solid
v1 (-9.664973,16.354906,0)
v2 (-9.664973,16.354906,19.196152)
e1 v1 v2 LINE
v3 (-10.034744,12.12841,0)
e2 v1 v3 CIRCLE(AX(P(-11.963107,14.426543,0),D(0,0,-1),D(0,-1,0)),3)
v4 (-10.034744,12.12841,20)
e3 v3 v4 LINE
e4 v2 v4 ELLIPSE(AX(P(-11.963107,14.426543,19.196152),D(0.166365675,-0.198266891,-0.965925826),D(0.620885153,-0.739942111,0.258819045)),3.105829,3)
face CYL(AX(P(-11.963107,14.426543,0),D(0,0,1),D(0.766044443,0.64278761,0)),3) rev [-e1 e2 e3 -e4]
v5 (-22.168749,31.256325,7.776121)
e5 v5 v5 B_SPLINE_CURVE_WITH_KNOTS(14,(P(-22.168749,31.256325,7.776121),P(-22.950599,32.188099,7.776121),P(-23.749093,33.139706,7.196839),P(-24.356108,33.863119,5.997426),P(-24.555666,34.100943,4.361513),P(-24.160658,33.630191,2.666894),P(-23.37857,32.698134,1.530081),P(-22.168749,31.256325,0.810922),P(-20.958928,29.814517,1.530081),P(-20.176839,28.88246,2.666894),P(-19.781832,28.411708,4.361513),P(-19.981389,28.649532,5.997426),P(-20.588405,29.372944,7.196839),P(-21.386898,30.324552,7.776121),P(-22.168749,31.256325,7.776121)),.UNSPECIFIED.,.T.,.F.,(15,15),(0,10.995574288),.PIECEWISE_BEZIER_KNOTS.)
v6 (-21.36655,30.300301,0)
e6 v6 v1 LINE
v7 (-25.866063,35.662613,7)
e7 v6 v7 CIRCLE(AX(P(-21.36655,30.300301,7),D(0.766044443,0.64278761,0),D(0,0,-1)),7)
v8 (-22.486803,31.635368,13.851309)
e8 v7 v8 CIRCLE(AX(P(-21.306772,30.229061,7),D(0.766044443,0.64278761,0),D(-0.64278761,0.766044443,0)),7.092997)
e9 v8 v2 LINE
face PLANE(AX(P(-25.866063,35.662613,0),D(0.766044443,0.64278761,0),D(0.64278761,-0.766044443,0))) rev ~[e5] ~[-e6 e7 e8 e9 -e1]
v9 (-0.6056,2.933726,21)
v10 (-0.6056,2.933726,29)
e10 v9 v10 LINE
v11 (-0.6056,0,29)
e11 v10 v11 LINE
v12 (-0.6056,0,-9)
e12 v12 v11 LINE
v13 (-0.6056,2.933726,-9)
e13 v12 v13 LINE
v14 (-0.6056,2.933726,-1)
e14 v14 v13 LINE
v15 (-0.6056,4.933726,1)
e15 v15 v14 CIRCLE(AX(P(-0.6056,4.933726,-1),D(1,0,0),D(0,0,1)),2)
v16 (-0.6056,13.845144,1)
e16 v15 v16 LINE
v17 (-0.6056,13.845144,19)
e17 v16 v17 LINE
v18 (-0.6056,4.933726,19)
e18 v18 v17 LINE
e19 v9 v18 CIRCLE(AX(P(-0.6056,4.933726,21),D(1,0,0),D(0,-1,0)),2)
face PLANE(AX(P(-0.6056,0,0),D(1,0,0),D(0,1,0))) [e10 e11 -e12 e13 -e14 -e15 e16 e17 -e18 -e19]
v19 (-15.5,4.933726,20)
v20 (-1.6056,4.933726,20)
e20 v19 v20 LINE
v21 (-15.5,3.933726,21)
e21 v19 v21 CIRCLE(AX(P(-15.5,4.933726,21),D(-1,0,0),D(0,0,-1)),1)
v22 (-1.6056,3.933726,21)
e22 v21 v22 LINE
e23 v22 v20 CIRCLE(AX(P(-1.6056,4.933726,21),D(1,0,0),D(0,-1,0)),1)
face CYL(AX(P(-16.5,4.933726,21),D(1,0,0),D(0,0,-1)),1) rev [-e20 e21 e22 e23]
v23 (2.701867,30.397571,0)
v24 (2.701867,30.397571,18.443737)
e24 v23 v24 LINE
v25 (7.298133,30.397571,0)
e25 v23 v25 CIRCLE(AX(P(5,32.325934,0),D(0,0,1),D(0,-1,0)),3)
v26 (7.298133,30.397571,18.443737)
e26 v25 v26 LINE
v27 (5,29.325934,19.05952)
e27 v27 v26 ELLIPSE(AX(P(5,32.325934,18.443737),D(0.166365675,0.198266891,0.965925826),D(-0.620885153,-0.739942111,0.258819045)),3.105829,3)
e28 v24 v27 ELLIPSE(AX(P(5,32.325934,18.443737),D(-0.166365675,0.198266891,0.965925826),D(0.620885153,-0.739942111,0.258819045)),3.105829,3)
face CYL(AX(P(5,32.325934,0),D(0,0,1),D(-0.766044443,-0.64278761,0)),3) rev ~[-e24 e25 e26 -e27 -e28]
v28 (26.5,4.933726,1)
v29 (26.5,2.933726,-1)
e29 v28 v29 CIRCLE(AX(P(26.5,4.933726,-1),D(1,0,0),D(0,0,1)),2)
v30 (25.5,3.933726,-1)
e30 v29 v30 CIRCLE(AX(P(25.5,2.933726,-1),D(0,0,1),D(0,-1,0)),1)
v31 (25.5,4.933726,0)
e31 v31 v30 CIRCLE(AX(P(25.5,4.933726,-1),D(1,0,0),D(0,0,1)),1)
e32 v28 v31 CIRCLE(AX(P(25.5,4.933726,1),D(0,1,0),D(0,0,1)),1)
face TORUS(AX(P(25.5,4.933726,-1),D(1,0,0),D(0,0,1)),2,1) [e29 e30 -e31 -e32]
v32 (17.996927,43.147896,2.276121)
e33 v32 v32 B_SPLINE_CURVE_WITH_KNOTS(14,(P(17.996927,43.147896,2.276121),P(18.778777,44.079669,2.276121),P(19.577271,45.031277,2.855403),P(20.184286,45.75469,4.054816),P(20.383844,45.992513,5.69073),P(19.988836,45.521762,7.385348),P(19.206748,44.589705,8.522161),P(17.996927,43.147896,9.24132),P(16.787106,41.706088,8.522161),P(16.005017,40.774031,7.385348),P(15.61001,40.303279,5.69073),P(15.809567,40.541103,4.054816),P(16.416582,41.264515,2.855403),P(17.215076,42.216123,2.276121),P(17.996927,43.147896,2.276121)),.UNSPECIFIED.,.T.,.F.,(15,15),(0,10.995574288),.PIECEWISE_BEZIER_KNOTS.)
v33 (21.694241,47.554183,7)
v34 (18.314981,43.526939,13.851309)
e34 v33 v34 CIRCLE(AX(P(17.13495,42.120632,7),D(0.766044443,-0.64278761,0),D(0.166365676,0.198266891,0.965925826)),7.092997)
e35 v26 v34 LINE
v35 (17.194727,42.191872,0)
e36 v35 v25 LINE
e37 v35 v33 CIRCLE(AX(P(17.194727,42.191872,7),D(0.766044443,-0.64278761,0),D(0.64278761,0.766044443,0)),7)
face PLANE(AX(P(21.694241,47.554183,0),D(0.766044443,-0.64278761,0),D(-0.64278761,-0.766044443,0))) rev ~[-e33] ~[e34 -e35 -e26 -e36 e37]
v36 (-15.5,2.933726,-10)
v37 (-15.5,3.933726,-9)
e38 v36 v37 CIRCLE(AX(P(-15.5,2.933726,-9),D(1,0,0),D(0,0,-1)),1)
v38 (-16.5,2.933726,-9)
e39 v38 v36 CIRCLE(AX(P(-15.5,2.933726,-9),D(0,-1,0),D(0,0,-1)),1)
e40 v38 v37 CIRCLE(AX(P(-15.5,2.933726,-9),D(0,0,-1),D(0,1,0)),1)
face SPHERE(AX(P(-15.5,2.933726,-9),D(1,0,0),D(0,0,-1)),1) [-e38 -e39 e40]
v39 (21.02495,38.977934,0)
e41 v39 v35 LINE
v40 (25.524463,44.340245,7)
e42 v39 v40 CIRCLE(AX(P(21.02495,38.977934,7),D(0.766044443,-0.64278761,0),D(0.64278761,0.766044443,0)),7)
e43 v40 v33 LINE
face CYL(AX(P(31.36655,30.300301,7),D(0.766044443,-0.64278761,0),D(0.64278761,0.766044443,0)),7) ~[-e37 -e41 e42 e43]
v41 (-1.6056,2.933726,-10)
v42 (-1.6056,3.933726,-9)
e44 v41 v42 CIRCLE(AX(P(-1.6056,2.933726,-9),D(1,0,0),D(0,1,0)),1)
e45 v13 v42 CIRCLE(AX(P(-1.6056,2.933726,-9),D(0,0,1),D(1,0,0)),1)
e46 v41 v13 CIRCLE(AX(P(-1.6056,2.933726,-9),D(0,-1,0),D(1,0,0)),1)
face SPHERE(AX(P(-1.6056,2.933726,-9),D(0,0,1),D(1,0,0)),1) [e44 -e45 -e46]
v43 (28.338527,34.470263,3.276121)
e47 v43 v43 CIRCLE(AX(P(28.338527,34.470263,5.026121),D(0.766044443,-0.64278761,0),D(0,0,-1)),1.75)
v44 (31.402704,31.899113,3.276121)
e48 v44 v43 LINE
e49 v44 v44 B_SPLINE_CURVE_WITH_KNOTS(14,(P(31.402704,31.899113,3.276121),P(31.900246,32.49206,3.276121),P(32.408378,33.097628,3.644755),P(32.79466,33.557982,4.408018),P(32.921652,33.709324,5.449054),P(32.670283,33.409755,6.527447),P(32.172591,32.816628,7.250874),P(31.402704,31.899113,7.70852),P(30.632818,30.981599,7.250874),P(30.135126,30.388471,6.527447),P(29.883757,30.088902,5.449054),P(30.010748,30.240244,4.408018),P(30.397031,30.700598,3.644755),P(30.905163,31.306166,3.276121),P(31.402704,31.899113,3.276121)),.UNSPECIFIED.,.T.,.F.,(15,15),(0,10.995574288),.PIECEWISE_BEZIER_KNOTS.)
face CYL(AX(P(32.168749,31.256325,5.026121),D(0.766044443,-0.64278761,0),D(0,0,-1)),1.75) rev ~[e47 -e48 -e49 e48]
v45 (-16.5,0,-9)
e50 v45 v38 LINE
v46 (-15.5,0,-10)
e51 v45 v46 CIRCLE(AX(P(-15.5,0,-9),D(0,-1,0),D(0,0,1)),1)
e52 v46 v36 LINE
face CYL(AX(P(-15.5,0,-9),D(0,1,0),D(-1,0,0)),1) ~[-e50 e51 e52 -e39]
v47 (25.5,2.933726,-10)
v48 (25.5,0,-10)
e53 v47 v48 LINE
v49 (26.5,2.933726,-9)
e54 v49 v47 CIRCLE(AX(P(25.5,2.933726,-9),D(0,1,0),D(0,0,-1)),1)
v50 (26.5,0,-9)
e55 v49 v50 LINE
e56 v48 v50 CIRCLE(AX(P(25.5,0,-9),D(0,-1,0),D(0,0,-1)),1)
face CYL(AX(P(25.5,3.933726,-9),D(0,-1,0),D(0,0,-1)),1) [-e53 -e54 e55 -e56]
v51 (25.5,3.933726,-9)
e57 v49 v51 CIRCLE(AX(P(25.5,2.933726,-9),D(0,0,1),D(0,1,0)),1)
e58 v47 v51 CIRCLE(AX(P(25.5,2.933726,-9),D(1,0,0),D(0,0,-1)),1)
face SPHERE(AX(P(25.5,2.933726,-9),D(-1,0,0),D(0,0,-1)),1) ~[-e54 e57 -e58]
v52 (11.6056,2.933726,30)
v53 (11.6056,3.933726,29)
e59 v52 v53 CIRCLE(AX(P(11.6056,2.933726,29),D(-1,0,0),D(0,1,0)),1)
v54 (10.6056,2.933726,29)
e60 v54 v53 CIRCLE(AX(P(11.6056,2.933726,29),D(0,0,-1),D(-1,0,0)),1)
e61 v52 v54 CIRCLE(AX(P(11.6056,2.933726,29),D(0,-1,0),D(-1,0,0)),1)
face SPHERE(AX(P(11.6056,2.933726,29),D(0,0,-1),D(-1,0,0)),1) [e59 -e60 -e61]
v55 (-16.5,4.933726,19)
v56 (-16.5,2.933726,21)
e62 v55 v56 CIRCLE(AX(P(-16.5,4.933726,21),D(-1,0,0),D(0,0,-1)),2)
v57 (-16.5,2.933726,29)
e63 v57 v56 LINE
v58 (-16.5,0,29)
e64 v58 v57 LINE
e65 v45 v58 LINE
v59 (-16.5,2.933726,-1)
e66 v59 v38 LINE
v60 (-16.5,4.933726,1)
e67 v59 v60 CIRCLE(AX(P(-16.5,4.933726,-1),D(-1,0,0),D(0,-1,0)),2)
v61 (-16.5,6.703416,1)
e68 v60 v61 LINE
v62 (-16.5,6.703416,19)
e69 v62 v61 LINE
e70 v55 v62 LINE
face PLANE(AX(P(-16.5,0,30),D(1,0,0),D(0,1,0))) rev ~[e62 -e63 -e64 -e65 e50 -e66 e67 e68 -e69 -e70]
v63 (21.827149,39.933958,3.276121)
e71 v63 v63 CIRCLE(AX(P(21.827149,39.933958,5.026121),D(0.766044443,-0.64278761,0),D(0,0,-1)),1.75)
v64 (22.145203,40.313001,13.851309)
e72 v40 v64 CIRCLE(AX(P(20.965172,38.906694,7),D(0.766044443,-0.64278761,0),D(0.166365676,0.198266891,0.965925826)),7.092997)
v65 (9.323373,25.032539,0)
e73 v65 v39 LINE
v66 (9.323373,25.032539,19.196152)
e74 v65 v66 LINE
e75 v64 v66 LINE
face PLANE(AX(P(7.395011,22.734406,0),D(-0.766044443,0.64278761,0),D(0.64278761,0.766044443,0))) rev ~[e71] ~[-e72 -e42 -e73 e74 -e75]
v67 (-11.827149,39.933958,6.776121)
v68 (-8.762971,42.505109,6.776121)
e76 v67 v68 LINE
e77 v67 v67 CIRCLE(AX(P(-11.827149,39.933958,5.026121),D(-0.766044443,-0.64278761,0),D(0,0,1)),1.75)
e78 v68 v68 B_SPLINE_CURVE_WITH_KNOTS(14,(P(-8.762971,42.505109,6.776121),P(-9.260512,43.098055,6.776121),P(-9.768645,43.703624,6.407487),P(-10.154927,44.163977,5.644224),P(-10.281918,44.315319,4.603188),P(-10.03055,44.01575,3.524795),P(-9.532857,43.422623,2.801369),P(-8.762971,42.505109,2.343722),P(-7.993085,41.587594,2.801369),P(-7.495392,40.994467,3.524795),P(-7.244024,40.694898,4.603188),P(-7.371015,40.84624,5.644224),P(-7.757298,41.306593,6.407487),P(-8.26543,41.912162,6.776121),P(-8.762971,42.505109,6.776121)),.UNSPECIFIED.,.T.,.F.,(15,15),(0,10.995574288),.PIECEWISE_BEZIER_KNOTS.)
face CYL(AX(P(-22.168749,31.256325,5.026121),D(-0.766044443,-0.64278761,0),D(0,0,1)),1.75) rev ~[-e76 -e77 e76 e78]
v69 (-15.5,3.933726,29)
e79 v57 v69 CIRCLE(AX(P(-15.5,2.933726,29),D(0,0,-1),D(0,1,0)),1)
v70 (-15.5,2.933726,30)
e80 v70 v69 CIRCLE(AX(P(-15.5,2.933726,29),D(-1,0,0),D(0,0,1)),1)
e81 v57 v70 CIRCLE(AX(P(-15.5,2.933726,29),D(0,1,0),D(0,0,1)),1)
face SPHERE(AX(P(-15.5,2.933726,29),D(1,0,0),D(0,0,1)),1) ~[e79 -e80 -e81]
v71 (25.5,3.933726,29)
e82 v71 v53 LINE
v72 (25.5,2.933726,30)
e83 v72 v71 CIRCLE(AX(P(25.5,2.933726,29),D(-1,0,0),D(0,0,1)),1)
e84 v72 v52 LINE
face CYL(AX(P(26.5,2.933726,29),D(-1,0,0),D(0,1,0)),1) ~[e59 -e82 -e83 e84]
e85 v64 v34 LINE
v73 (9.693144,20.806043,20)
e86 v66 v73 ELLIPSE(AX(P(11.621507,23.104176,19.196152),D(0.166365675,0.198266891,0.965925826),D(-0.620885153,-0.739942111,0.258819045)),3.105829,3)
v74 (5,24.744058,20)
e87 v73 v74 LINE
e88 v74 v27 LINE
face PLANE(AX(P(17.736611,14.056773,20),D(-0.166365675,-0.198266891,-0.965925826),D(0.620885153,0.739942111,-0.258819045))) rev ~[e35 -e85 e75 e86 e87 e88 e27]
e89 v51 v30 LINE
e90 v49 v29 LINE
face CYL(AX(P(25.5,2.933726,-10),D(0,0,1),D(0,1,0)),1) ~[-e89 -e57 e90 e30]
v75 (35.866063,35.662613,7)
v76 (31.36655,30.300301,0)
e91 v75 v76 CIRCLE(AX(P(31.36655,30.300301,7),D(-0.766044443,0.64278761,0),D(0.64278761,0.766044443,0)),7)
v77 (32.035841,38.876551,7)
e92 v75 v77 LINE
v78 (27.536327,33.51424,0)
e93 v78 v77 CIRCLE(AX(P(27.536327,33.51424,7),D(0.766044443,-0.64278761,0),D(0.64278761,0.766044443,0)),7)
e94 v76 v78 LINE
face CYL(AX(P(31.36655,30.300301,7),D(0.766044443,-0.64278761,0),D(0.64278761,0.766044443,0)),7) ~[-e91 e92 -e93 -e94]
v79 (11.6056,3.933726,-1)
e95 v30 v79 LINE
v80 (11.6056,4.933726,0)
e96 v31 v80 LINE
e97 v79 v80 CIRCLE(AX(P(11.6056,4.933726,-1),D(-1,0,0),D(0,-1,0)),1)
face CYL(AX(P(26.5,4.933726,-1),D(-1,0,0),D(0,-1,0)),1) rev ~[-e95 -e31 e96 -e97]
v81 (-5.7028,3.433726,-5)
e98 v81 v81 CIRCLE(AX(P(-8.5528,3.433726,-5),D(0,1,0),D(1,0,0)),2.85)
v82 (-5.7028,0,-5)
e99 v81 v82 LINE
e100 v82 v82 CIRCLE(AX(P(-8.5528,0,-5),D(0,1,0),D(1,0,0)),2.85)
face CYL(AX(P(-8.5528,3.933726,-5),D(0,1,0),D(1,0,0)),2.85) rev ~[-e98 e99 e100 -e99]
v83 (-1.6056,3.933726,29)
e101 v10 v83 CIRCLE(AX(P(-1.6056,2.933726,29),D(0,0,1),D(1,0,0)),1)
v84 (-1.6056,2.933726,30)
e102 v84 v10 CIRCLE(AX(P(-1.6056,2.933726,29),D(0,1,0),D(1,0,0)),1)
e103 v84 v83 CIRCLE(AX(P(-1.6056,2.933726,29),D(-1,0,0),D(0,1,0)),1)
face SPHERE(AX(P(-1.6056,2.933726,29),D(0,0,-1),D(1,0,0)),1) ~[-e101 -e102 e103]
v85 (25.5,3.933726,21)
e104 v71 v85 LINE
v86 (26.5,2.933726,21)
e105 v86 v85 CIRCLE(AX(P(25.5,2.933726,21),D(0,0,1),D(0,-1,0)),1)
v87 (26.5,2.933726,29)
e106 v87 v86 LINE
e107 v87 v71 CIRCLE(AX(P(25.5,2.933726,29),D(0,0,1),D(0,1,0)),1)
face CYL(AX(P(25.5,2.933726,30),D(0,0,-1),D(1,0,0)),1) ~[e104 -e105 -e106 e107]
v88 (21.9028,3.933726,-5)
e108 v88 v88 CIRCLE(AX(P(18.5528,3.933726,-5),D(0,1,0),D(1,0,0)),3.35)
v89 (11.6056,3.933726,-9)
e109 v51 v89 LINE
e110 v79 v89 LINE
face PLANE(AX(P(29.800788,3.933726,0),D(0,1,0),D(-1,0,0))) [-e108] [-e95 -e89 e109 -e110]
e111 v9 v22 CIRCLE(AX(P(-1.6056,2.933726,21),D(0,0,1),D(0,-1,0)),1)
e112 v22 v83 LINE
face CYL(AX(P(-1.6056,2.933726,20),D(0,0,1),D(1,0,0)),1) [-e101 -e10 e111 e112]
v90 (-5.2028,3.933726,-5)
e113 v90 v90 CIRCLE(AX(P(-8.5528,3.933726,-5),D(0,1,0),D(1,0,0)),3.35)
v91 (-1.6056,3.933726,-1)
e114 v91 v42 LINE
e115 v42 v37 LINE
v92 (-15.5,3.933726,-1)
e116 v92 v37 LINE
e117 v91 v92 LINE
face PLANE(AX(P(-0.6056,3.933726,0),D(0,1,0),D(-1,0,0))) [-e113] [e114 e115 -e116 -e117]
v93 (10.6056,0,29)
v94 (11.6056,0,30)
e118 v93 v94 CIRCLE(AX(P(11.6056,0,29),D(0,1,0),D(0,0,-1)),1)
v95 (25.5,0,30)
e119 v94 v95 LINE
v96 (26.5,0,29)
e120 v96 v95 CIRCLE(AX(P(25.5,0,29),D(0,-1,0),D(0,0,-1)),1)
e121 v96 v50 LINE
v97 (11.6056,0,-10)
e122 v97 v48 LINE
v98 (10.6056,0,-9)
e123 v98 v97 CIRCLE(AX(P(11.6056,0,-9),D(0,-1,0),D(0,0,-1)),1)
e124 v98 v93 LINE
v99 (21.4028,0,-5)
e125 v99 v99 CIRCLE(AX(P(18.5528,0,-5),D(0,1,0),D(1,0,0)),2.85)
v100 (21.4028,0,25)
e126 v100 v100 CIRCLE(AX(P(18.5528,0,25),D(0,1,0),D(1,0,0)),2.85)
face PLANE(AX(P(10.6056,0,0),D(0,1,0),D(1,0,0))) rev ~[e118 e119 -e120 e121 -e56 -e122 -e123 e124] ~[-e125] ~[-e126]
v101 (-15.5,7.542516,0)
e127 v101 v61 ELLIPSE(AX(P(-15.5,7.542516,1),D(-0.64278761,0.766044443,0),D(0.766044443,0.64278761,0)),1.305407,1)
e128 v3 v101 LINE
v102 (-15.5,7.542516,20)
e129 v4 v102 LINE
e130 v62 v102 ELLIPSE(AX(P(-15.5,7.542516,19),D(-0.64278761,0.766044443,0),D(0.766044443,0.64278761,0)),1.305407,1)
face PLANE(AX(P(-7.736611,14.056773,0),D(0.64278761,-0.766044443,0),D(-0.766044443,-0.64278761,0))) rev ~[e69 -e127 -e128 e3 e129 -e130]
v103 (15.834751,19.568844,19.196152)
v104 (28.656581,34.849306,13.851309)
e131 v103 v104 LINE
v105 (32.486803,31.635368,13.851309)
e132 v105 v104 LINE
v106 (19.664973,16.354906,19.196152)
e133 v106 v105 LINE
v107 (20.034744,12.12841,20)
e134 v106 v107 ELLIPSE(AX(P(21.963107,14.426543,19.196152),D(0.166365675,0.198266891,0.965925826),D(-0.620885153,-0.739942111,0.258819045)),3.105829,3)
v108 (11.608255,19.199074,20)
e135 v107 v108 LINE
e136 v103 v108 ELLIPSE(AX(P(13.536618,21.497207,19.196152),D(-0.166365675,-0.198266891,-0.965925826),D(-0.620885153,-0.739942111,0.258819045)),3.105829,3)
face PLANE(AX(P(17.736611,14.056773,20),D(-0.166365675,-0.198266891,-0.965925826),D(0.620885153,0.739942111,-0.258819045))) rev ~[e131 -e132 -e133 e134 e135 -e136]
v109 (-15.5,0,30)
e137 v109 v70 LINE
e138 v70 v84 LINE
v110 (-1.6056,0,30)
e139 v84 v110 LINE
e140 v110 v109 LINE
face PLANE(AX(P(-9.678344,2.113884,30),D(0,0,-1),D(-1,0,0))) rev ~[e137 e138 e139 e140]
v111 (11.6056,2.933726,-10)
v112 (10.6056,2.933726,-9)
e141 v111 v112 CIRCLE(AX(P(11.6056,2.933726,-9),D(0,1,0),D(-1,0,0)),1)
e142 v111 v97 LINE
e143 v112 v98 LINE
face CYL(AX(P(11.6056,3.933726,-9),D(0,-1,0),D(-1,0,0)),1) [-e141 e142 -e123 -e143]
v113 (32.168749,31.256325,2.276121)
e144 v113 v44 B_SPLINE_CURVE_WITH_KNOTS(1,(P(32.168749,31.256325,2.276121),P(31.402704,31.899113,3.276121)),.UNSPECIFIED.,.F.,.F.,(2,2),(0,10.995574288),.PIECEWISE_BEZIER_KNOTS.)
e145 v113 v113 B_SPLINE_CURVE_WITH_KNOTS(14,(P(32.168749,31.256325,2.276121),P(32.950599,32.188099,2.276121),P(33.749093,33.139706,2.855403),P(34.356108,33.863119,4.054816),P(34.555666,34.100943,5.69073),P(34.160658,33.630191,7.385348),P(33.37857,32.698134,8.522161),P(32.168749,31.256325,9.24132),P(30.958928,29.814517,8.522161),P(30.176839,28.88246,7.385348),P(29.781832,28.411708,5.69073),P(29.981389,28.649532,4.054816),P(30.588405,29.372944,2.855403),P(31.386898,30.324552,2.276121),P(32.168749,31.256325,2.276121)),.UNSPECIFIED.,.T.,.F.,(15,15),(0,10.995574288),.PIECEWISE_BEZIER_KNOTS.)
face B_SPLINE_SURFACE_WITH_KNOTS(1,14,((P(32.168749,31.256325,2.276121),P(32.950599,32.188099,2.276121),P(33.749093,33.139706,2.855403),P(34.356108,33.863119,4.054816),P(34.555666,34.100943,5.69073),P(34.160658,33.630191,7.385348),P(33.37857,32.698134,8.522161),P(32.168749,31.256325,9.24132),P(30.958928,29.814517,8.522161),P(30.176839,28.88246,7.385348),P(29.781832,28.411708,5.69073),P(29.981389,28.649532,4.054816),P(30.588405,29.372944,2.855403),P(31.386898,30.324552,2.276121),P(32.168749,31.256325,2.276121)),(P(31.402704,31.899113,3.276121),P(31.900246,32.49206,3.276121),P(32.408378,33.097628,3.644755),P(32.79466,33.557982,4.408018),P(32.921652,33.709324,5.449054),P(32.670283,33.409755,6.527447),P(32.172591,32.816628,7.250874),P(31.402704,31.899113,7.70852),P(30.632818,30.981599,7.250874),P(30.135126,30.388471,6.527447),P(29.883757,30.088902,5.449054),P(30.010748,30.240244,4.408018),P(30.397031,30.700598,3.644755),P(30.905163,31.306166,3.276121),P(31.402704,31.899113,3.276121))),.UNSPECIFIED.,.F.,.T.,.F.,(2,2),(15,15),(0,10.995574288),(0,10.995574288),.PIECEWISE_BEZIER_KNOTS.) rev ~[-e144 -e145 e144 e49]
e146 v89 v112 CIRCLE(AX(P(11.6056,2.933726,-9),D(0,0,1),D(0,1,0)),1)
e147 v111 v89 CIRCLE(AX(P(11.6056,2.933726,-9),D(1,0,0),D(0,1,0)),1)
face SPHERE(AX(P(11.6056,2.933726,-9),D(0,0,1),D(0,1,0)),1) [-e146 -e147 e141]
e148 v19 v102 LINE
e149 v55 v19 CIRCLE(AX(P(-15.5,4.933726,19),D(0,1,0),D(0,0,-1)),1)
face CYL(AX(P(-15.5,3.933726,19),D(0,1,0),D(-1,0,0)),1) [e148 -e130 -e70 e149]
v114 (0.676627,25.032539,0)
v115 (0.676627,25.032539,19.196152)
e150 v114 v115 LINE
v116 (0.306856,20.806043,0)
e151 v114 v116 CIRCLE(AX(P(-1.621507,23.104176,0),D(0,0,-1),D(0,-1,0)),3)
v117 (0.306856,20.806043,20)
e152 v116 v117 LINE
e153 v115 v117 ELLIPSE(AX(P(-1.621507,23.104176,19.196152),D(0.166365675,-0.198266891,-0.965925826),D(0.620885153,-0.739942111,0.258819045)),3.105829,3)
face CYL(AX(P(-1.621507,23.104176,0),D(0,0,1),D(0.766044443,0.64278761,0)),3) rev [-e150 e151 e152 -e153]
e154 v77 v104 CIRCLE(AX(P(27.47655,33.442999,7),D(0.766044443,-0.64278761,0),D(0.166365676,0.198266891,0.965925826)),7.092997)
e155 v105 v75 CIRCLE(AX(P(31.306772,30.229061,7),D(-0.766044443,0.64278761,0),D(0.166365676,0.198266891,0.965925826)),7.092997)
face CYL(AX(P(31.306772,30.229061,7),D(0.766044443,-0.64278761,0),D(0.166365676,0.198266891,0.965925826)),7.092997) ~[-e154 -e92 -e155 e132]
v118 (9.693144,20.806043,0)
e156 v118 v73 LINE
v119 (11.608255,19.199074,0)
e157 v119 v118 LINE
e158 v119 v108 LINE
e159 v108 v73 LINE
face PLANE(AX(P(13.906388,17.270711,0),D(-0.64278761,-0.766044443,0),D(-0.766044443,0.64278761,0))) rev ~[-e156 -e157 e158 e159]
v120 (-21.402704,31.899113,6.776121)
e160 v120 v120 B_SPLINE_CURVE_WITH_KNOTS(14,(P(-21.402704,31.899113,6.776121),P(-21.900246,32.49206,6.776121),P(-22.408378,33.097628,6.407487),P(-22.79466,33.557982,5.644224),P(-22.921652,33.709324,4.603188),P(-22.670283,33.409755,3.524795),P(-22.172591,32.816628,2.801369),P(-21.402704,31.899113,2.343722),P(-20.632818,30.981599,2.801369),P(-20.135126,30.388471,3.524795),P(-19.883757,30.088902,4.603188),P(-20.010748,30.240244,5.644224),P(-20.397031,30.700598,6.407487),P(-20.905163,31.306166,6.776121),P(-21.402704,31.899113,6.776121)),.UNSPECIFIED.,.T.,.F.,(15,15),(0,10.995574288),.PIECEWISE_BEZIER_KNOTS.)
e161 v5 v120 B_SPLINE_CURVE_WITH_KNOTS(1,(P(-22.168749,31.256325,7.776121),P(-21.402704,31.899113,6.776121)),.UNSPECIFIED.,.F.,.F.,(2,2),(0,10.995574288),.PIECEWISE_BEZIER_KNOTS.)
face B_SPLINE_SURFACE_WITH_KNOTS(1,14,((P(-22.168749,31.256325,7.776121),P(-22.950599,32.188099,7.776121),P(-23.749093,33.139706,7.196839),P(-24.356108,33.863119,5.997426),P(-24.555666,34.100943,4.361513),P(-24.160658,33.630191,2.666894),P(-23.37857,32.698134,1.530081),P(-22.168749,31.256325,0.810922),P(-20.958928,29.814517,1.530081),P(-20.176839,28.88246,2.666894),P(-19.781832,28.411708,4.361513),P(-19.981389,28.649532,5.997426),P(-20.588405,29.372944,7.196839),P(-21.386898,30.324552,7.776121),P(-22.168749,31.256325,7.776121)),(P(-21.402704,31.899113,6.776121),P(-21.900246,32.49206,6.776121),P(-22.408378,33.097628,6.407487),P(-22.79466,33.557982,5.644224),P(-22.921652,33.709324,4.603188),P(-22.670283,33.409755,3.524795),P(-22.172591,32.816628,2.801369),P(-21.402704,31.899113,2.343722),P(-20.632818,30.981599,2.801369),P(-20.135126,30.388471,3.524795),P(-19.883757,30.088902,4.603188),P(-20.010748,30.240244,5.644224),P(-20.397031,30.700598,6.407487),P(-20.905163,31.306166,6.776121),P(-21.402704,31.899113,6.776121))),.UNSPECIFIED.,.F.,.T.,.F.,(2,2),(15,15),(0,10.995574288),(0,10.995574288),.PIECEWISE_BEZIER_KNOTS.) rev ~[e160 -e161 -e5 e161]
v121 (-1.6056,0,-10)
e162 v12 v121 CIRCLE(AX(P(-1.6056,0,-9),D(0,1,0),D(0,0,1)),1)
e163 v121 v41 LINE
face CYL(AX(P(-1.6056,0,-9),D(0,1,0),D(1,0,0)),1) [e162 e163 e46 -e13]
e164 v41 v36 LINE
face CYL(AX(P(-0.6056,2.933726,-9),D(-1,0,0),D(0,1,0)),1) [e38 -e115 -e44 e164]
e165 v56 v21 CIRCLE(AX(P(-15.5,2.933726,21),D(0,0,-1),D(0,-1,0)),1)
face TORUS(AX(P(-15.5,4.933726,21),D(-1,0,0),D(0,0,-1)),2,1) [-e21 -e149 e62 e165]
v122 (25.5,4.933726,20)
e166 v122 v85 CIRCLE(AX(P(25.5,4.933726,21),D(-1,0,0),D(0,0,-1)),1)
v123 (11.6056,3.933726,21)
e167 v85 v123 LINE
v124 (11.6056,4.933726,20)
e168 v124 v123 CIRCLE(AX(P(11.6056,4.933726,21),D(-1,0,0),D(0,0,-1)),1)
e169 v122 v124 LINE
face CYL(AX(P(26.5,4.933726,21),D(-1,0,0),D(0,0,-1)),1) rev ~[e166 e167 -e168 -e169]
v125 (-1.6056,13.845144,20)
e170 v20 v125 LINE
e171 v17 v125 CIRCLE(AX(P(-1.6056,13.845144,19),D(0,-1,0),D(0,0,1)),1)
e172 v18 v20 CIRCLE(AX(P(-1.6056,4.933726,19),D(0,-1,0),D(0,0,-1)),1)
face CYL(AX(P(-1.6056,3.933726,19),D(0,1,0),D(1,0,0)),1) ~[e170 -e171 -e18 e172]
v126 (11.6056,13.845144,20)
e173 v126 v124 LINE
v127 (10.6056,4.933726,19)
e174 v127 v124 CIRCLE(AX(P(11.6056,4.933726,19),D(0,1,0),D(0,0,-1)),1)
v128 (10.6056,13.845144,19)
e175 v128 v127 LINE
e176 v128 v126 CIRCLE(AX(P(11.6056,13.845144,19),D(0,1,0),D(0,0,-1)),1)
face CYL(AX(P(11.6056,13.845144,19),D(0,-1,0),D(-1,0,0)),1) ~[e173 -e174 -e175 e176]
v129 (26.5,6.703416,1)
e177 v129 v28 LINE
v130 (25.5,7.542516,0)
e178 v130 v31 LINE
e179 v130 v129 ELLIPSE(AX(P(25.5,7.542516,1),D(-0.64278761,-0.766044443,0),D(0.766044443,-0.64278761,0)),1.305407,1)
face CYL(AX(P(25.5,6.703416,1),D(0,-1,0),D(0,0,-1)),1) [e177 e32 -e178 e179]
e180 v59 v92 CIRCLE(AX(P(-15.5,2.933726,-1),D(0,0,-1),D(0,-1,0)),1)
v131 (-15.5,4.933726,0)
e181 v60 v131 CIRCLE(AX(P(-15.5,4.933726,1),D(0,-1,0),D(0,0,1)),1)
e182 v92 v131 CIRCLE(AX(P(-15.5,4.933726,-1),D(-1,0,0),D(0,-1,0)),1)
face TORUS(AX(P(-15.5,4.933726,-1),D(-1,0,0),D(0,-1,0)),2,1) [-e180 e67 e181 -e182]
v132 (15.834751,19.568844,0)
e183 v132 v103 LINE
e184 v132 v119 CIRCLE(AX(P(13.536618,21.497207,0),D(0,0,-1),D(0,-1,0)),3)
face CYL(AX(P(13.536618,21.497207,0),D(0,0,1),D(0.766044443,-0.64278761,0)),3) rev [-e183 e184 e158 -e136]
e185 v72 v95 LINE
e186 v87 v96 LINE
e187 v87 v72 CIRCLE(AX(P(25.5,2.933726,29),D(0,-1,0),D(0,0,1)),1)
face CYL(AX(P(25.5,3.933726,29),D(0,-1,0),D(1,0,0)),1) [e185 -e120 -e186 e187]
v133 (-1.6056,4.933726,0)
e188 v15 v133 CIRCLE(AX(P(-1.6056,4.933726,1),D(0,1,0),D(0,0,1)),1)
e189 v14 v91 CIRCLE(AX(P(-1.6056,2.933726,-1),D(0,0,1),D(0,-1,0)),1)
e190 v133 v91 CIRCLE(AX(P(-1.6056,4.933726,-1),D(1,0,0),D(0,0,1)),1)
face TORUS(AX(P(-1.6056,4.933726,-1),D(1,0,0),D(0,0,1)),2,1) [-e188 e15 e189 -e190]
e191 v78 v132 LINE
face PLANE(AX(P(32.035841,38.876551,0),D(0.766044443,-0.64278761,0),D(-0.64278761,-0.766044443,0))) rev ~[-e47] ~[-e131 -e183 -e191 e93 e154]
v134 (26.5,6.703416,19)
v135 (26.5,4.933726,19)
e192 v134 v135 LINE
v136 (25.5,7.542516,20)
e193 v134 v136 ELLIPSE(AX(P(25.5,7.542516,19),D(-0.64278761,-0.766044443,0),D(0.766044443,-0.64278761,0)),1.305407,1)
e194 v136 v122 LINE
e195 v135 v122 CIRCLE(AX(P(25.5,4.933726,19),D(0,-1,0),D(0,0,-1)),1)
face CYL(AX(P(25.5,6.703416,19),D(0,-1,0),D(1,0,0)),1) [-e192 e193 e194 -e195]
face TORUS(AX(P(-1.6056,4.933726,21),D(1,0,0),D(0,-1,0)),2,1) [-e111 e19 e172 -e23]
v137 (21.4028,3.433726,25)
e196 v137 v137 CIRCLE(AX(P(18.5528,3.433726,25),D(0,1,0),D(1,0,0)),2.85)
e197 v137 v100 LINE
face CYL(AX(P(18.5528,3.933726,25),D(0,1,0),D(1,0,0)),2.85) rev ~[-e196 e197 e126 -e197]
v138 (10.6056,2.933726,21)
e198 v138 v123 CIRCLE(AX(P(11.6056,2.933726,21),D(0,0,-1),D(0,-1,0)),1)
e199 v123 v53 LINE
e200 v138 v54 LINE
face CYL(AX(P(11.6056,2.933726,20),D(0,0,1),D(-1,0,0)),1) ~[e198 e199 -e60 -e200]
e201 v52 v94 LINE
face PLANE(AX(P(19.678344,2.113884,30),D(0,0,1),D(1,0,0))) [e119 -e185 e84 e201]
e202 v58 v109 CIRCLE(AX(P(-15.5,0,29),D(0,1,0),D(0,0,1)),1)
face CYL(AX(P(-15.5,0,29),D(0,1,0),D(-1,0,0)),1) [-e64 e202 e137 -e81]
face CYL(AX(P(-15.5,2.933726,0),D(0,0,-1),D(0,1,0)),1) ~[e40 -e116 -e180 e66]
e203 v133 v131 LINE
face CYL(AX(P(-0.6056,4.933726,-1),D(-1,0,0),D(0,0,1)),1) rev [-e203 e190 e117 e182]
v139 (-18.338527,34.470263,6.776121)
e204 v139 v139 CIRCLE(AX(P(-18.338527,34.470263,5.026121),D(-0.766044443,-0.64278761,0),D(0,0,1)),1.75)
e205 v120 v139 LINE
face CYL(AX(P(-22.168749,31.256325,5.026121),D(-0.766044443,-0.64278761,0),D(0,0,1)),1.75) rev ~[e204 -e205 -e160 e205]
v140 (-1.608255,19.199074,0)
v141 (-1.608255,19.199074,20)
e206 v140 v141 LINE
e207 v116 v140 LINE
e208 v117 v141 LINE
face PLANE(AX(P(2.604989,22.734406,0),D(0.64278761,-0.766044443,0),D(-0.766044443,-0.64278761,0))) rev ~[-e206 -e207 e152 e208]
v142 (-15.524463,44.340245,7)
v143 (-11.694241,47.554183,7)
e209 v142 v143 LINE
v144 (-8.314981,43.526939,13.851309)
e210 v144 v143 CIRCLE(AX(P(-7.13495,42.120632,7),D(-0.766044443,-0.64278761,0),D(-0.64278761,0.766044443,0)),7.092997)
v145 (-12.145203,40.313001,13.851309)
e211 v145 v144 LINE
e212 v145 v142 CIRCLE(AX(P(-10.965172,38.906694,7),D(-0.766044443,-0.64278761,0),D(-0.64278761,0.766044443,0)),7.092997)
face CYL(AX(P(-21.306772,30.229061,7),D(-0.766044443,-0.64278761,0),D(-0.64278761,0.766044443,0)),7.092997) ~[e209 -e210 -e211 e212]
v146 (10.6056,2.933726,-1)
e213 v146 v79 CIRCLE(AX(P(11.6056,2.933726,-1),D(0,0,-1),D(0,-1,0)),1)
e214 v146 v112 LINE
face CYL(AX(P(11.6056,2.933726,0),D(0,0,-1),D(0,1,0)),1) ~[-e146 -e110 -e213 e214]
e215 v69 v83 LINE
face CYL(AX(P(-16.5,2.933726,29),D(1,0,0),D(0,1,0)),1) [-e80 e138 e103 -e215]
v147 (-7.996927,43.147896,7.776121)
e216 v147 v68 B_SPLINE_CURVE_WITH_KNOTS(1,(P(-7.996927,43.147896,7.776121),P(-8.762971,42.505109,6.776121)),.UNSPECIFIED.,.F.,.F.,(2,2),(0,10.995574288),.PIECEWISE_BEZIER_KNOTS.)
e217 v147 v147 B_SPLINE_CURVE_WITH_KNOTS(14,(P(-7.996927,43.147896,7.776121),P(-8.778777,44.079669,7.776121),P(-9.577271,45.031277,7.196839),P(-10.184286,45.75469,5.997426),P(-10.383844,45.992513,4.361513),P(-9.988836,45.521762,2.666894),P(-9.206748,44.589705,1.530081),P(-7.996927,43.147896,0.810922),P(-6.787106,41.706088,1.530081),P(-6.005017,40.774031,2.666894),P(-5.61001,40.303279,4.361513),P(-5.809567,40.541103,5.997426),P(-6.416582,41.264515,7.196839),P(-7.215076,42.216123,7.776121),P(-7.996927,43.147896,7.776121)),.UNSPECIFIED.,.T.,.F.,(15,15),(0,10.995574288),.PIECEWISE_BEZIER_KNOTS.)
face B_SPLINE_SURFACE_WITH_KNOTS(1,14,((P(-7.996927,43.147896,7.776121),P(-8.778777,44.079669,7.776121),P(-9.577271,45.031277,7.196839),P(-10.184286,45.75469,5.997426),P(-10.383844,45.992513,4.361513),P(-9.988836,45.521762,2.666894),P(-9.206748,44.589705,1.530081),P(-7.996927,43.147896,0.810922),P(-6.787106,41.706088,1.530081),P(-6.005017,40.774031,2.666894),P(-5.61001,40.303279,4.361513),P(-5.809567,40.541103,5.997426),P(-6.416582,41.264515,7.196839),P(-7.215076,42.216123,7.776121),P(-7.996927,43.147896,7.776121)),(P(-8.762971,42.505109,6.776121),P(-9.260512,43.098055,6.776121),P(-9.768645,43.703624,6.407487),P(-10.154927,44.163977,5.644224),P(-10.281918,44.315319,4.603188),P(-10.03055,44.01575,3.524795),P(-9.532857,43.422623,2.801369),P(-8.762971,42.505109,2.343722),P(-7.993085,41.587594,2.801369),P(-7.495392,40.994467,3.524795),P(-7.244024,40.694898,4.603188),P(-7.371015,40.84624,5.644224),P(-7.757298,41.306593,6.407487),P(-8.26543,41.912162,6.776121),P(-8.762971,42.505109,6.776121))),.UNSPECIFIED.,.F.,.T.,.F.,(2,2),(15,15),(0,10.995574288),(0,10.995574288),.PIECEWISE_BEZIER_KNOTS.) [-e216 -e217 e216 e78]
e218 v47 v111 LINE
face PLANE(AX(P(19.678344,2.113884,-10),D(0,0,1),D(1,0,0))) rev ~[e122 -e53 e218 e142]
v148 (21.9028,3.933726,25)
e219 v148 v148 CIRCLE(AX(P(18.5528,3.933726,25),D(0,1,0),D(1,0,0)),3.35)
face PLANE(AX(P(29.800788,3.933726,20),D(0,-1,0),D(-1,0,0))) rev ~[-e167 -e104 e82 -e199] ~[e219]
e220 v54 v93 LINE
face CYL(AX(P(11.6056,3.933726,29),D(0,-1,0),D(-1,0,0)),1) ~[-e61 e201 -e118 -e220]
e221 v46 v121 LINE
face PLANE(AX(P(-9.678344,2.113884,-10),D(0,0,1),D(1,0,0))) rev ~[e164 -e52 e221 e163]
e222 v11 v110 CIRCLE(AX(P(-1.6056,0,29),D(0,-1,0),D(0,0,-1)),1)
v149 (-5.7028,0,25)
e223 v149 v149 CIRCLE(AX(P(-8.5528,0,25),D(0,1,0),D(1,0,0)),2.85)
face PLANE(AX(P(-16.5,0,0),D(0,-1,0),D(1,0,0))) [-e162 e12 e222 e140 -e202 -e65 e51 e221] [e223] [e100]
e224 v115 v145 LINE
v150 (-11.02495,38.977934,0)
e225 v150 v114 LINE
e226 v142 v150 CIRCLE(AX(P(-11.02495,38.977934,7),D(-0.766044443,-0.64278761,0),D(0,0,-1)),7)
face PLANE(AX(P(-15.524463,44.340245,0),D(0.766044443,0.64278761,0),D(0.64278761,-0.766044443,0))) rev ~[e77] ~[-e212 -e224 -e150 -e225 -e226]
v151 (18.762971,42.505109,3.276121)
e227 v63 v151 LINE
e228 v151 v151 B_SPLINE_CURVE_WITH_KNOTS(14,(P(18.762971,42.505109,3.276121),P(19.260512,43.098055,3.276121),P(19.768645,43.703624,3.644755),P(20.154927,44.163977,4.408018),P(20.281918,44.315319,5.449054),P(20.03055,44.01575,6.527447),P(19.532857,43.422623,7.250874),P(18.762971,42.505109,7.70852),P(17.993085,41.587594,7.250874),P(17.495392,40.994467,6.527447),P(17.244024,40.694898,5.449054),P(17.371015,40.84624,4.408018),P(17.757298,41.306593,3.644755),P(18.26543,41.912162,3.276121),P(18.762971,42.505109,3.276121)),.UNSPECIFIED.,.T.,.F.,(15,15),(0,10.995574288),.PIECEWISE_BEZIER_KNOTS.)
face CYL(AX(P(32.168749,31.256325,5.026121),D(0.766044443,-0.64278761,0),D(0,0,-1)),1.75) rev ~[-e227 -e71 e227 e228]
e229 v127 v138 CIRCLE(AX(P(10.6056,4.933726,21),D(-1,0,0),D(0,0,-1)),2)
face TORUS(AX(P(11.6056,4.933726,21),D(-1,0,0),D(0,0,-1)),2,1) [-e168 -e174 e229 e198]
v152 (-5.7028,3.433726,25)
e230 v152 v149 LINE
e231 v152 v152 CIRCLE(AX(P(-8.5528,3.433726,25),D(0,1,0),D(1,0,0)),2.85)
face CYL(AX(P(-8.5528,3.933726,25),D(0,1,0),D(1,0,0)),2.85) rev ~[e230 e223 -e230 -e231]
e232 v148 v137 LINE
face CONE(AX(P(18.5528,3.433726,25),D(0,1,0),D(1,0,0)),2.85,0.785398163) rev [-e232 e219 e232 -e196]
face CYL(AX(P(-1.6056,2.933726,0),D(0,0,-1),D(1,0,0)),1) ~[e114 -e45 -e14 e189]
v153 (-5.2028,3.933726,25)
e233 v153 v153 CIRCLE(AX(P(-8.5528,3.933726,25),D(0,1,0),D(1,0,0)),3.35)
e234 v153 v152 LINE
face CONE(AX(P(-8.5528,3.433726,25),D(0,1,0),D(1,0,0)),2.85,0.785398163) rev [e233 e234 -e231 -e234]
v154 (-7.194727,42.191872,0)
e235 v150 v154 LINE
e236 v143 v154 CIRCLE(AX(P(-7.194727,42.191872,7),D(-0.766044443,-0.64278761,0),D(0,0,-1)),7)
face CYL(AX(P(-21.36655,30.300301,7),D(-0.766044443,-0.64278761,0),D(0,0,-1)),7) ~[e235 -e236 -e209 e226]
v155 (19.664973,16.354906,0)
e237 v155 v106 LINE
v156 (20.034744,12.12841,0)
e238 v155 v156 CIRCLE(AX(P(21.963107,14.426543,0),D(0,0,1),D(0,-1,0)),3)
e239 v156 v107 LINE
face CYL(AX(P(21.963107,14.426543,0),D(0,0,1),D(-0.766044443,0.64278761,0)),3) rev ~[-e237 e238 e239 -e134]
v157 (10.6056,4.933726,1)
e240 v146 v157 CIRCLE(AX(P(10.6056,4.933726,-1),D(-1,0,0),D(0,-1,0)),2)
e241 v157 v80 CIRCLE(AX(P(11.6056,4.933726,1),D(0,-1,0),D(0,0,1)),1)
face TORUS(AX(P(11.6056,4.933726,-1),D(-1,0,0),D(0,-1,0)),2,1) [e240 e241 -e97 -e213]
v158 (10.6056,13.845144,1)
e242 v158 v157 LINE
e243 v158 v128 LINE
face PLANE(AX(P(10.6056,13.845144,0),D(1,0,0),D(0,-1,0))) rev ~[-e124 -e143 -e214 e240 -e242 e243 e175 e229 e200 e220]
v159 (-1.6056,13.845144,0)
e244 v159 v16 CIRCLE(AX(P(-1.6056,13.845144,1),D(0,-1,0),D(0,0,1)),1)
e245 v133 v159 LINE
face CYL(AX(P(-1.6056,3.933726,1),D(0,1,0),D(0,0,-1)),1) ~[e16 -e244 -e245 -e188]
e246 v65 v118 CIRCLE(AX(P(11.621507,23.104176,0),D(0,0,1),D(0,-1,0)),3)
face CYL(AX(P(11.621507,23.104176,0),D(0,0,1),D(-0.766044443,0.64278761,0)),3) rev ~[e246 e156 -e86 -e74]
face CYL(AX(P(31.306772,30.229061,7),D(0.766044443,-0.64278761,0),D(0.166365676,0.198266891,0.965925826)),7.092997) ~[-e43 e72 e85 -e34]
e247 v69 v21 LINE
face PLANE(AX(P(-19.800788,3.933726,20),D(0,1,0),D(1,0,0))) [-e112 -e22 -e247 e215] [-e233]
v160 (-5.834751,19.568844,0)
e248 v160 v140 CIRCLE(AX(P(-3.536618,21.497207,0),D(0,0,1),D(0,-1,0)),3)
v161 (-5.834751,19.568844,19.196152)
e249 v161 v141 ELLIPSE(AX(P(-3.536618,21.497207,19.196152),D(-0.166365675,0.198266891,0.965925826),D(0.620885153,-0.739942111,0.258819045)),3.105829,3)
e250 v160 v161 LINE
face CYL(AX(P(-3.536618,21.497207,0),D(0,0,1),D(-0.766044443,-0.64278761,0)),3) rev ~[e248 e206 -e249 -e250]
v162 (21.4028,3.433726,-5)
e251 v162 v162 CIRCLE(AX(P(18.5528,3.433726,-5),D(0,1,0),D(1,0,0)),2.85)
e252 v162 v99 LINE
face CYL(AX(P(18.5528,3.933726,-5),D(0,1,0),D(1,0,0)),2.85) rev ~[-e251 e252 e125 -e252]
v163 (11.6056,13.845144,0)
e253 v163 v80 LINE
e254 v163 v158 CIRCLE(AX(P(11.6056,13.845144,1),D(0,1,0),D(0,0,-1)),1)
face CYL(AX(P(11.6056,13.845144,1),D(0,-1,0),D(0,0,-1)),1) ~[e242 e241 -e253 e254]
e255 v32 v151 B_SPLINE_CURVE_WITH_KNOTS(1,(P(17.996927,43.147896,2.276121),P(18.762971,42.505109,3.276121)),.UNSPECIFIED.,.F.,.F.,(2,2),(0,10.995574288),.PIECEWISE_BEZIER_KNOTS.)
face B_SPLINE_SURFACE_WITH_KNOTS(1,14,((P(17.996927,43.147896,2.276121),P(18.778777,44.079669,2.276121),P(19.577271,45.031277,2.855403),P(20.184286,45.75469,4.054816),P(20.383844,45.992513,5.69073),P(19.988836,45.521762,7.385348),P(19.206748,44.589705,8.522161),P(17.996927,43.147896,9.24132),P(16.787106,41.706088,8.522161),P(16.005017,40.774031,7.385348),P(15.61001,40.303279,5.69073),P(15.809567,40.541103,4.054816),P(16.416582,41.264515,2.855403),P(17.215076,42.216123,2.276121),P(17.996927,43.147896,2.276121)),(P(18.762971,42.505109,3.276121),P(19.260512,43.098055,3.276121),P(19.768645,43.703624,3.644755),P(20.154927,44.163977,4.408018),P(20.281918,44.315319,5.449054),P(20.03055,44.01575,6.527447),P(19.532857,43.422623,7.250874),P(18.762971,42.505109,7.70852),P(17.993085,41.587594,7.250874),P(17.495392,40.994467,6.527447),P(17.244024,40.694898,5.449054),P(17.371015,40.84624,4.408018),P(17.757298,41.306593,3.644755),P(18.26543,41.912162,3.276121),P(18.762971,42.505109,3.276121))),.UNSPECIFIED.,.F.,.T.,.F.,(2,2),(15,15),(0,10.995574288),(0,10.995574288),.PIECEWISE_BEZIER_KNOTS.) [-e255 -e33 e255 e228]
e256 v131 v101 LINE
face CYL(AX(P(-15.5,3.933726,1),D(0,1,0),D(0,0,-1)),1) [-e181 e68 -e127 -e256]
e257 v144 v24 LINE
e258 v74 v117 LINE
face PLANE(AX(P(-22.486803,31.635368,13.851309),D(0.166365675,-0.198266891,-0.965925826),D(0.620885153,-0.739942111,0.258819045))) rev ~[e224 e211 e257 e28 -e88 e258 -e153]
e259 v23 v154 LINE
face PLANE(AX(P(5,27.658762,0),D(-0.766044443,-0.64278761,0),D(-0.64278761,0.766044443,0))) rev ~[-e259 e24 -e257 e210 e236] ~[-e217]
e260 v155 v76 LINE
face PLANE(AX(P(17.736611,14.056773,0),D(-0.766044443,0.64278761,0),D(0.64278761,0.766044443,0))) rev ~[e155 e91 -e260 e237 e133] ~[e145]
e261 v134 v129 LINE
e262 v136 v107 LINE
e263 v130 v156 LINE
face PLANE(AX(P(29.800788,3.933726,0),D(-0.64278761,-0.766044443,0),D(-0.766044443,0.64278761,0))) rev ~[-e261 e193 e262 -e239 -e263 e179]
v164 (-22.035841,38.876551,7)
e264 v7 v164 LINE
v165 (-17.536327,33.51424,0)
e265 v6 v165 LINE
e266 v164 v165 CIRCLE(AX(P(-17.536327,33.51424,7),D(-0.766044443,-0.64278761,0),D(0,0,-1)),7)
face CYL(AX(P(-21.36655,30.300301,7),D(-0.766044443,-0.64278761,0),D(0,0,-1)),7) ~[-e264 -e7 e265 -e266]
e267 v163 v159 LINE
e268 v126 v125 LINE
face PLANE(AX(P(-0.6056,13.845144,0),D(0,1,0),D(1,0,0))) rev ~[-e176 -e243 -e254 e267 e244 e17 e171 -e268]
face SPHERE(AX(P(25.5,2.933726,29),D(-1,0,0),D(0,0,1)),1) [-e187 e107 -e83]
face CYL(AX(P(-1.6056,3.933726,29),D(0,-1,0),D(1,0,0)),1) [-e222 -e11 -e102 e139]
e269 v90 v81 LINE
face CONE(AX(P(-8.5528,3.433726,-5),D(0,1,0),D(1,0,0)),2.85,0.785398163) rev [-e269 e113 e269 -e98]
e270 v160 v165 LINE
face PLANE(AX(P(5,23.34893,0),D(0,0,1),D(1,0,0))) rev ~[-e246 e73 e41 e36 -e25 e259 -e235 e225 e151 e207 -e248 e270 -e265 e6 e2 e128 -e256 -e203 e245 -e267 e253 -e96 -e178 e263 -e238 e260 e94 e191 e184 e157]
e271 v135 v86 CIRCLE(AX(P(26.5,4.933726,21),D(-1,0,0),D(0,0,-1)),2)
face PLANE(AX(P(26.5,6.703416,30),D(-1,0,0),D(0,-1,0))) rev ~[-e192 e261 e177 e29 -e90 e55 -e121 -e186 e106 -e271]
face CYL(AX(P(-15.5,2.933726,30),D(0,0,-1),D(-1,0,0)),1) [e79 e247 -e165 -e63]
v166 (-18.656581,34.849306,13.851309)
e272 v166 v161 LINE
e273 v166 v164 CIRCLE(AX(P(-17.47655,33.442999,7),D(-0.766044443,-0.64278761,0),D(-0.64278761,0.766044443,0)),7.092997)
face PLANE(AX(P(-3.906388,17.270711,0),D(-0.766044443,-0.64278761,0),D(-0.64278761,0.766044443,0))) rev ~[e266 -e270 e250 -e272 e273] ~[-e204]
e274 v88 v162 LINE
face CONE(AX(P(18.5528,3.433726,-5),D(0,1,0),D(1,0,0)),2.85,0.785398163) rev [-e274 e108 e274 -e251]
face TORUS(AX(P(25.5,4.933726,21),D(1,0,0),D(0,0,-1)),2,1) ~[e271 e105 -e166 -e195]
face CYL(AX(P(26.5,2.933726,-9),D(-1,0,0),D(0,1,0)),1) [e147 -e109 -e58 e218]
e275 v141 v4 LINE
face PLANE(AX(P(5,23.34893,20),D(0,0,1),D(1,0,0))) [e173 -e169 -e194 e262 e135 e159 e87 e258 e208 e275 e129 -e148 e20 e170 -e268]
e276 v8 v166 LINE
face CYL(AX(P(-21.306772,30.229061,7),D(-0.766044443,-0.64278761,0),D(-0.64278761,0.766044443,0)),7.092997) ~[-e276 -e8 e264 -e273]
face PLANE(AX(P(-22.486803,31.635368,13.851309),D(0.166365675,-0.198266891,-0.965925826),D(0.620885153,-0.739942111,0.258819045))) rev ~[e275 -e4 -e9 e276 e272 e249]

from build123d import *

# Parameters (mm, degrees)
BOSS_EXTRUDE1_DEPTH = 20
SKETCH5_R           = 1.75
CUT_EXTRUDE3_DEPTH  = 55.933306211
SKETCH6_R           = 1.75
CUT_EXTRUDE4_DEPTH  = 55.933306211
CUT_EXTRUDE5_DEPTH  = 55.933306211
CUT_EXTRUDE6_DEPTH  = 55.933306211
BOSS_EXTRUDE3_DEPTH = 10
SKETCH10_R          = 2.85
CUT_EXTRUDE7_DEPTH  = 4.933726003
BOSS_EXTRUDE4_DEPTH = 10
SKETCH12_R          = 2.85
CUT_EXTRUDE8_DEPTH  = 4.933726003
CUT_EXTRUDE9_DEPTH  = 41
CHAMFER1_SIZE       = 1
CHAMFER2_SIZE       = 0.5
FILLET1_R           = 1
FILLET2_R           = 3


with BuildPart() as part:
    # Sketch1 → Boss-Extrude1 (new body)
    with BuildSketch(Plane.XY):
        Polygon((-16.499999997, 0), (-0.605600394, 0), (-0.605600394, 13.845143912), (10.605600394, 13.845143912), (10.605600394, 0), (26.499999997, 0), (29.800788035, 3.933726003), (17.736610648, 14.0567728), (35.86606285, 35.662612593), (32.035840635, 38.876550642), (13.906388432, 17.270710848), (7.395010666, 22.73440553), (25.524462868, 44.340245324), (21.694240652, 47.554183373), (5, 27.658762099), (-11.694240652, 47.554183373), (-15.524462868, 44.340245324), (2.604989334, 22.73440553), (-3.906388432, 17.270710848), (-22.035840635, 38.876550642), (-25.86606285, 35.662612593), (-7.736610648, 14.0567728), (-19.800788035, 3.933726003), align=None)
    extrude(amount=BOSS_EXTRUDE1_DEPTH)

    # Sketch5 → Cut-Extrude3 (cut, through all)
    with BuildSketch(Plane(origin=(2.381579924, 1.998382835, 0), x_dir=(0, 0, 1), z_dir=(-0.766044443, -0.64278761, 0))):
        with Locations((5.02612125, 38.193531526)):
            Circle(SKETCH5_R)
    extrude(amount=-CUT_EXTRUDE3_DEPTH, mode=Mode.SUBTRACT)

    # Sketch6 → Cut-Extrude4 (cut, through all)
    with BuildSketch(Plane(origin=(3.486660965, -2.92565593, 0), x_dir=(0, 0, -1), z_dir=(0.766044443, -0.64278761, 0))):
        with Locations((-5.02612125, 44.621407623)):
            Circle(SKETCH6_R)
    extrude(amount=-CUT_EXTRUDE4_DEPTH, mode=Mode.SUBTRACT)

    # Sketch7 → Cut-Extrude5 (cut, through all)
    with BuildSketch(Plane(origin=(2.381579924, 1.998382835, 0), x_dir=(0, 0, 1), z_dir=(-0.766044443, -0.64278761, 0))):
        with BuildLine():
            ThreePointArc((0, 36.945530916), (2.050252532, 41.895278384), (7, 43.945530916))
            Line((7, 43.945530916), (0, 43.945530916))
            Line((0, 43.945530916), (0, 36.945530916))
        make_face()
        with BuildLine():
            ThreePointArc((7, 43.945530916), (11.317943157, 42.479786722), (13.851309254, 38.688336422))
            Line((13.851309254, 38.688336422), (20, 15.741110157))
            Line((20, 15.741110157), (20, 43.945530916))
            Line((20, 43.945530916), (7, 43.945530916))
        make_face()
    extrude(amount=-CUT_EXTRUDE5_DEPTH, mode=Mode.SUBTRACT)

    # Sketch8 → Cut-Extrude6 (cut, through all)
    with BuildSketch(Plane(origin=(3.486660965, -2.92565593, 0), x_dir=(0, 0, -1), z_dir=(0.766044443, -0.64278761, 0))):
        with BuildLine():
            Line((-20, 22.168986254), (-13.851309254, 45.116212519))
            ThreePointArc((-13.851309254, 45.116212519), (-11.317943157, 48.907662818), (-7, 50.373407013))
            Line((-7, 50.373407013), (-20, 50.373407013))
            Line((-20, 50.373407013), (-20, 22.168986254))
        make_face()
        with BuildLine():
            Line((0, 50.373407013), (-7, 50.373407013))
            ThreePointArc((-7, 50.373407013), (-2.050252532, 48.323154481), (0, 43.373407013))
            Line((0, 43.373407013), (0, 50.373407013))
        make_face()
    extrude(amount=-CUT_EXTRUDE6_DEPTH, mode=Mode.SUBTRACT)

    # Sketch9 → Boss-Extrude3 (add)
    with BuildSketch(Plane.XY.offset(20)):
        Polygon((-0.605600394, 0), (-16.499999997, 0), (-19.800788035, 3.933726003), (-0.605600394, 3.933726003), align=None)
        Polygon((10.605600394, 3.933726003), (10.605600394, 0), (26.499999997, 0), (29.800788035, 3.933726003), align=None)
    extrude(amount=BOSS_EXTRUDE3_DEPTH)

    # Sketch10 → Cut-Extrude7 (cut, through all)
    with BuildSketch(Plane(origin=(0, 3.933726003, 0), x_dir=(1, 0, 0), z_dir=(0, 1, 0))):
        with Locations((-8.552800195, -25)):
            Circle(SKETCH10_R)
        with Locations((18.552800195, -25)):
            Circle(SKETCH10_R)
    extrude(amount=-CUT_EXTRUDE7_DEPTH, mode=Mode.SUBTRACT)

    # Sketch11 → Boss-Extrude4 (add)
    with BuildSketch(Plane(origin=(0, 0, 0), x_dir=(-1, 0, 0), z_dir=(0, 0, -1))):
        Polygon((19.800788035, 3.933726003), (16.499999997, 0), (0.605600394, 0), (0.605600394, 3.933726003), align=None)
        Polygon((-10.605600394, 3.933726003), (-10.605600394, 0), (-26.499999997, 0), (-29.800788035, 3.933726003), align=None)
    extrude(amount=BOSS_EXTRUDE4_DEPTH)

    # Sketch12 → Cut-Extrude8 (cut, through all)
    with BuildSketch(Plane(origin=(0, 3.933726003, 0), x_dir=(1, 0, 0), z_dir=(0, 1, 0))):
        with Locations((-8.552800195, 5)):
            Circle(SKETCH12_R)
        with Locations((18.552800195, 5)):
            Circle(SKETCH12_R)
    extrude(amount=-CUT_EXTRUDE8_DEPTH, mode=Mode.SUBTRACT)

    # Sketch13 → Cut-Extrude9 (cut, through all)
    with BuildSketch(Plane.XY.offset(30)):
        Polygon((-16.499999997, 0), (-16.499999997, 3.933726003), (-16.499999997, 6.703416029), (-19.800788035, 3.933726003), align=None)
        Polygon((26.499999997, 0), (26.499999997, 3.933726003), (26.499999997, 6.703416029), (29.800788035, 3.933726003), align=None)
    extrude(amount=-CUT_EXTRUDE9_DEPTH, mode=Mode.SUBTRACT)

    # Chamfer1
    chamfer1_edges = [part.edges().sort_by_distance(p)[0] for p in [
        (17.996926714, 43.147896203, 6.77612125),
        (32.168748911, 31.256325424, 6.77612125),
        (-7.996926714, 43.147896203, 3.27612125),
        (-22.168748911, 31.256325424, 3.27612125),
    ]]
    chamfer(chamfer1_edges, length=CHAMFER1_SIZE)

    # Chamfer2
    chamfer2_edges = [part.edges().sort_by_distance(p)[0] for p in [
        (-11.402800195, 3.933726003, 25),
        (15.702800195, 3.933726003, 25),
        (15.702800195, 3.933726003, -5),
        (-11.402800195, 3.933726003, -5),
    ]]
    chamfer(chamfer2_edges, length=CHAMFER2_SIZE)

    # Fillet1
    fillet1_edges = [part.edges().sort_by_distance(p)[0] for p in [
        (-0.605600394, 8.889434958, 20),
        (10.605600394, 8.889434958, 20),
        (-8.552800195, 3.933726003, 20),
        (-0.605600394, 3.933726003, 25),
        (-0.605600394, 1.966863002, 30),
        (-8.552800195, 3.933726003, 30),
        (10.605600394, 3.933726003, 25),
        (10.605600394, 1.966863002, 30),
        (-0.605600394, 3.933726003, -5),
        (-0.605600394, 1.966863002, -10),
        (18.552800195, 3.933726003, 0),
        (10.605600394, 3.933726003, -5),
        (18.552800195, 3.933726003, -10),
        (10.605600394, 1.966863002, -10),
        (10.605600394, 8.889434958, 0),
        (26.499999997, 1.966863002, -10),
        (-8.552800195, 3.933726003, -10),
        (-8.552800195, 3.933726003, 0),
        (18.552800195, 3.933726003, 30),
        (18.552800195, 3.933726003, 20),
        (26.499999997, 1.966863002, 30),
        (26.499999997, 5.318571016, 20),
        (26.499999997, 5.318571016, 0),
        (26.499999997, 3.933726003, -5),
        (26.499999997, 3.933726003, 25),
        (-0.605600394, 8.889434958, 0),
        (-16.499999997, 1.966863002, 30),
        (-16.499999997, 5.318571016, 20),
        (-16.499999997, 3.933726003, 25),
        (-16.499999997, 1.966863002, -10),
        (-16.499999997, 3.933726003, -5),
        (-16.499999997, 5.318571016, 0),
    ]]
    fillet(fillet1_edges, radius=FILLET1_R)

    # Fillet2
    fillet2_edges = [part.edges().sort_by_distance(p)[0] for p in [
        (5, 27.658762099, 9.700862486),
        (-7.736610648, 14.0567728, 10),
        (-3.906388432, 17.270710848, 10),
        (2.604989334, 22.73440553, 10),
        (7.395010666, 22.73440553, 10),
        (13.906388432, 17.270710848, 10),
        (17.736610648, 14.0567728, 10),
    ]]
    fillet(fillet2_edges, radius=FILLET2_R)


solid = part.part
